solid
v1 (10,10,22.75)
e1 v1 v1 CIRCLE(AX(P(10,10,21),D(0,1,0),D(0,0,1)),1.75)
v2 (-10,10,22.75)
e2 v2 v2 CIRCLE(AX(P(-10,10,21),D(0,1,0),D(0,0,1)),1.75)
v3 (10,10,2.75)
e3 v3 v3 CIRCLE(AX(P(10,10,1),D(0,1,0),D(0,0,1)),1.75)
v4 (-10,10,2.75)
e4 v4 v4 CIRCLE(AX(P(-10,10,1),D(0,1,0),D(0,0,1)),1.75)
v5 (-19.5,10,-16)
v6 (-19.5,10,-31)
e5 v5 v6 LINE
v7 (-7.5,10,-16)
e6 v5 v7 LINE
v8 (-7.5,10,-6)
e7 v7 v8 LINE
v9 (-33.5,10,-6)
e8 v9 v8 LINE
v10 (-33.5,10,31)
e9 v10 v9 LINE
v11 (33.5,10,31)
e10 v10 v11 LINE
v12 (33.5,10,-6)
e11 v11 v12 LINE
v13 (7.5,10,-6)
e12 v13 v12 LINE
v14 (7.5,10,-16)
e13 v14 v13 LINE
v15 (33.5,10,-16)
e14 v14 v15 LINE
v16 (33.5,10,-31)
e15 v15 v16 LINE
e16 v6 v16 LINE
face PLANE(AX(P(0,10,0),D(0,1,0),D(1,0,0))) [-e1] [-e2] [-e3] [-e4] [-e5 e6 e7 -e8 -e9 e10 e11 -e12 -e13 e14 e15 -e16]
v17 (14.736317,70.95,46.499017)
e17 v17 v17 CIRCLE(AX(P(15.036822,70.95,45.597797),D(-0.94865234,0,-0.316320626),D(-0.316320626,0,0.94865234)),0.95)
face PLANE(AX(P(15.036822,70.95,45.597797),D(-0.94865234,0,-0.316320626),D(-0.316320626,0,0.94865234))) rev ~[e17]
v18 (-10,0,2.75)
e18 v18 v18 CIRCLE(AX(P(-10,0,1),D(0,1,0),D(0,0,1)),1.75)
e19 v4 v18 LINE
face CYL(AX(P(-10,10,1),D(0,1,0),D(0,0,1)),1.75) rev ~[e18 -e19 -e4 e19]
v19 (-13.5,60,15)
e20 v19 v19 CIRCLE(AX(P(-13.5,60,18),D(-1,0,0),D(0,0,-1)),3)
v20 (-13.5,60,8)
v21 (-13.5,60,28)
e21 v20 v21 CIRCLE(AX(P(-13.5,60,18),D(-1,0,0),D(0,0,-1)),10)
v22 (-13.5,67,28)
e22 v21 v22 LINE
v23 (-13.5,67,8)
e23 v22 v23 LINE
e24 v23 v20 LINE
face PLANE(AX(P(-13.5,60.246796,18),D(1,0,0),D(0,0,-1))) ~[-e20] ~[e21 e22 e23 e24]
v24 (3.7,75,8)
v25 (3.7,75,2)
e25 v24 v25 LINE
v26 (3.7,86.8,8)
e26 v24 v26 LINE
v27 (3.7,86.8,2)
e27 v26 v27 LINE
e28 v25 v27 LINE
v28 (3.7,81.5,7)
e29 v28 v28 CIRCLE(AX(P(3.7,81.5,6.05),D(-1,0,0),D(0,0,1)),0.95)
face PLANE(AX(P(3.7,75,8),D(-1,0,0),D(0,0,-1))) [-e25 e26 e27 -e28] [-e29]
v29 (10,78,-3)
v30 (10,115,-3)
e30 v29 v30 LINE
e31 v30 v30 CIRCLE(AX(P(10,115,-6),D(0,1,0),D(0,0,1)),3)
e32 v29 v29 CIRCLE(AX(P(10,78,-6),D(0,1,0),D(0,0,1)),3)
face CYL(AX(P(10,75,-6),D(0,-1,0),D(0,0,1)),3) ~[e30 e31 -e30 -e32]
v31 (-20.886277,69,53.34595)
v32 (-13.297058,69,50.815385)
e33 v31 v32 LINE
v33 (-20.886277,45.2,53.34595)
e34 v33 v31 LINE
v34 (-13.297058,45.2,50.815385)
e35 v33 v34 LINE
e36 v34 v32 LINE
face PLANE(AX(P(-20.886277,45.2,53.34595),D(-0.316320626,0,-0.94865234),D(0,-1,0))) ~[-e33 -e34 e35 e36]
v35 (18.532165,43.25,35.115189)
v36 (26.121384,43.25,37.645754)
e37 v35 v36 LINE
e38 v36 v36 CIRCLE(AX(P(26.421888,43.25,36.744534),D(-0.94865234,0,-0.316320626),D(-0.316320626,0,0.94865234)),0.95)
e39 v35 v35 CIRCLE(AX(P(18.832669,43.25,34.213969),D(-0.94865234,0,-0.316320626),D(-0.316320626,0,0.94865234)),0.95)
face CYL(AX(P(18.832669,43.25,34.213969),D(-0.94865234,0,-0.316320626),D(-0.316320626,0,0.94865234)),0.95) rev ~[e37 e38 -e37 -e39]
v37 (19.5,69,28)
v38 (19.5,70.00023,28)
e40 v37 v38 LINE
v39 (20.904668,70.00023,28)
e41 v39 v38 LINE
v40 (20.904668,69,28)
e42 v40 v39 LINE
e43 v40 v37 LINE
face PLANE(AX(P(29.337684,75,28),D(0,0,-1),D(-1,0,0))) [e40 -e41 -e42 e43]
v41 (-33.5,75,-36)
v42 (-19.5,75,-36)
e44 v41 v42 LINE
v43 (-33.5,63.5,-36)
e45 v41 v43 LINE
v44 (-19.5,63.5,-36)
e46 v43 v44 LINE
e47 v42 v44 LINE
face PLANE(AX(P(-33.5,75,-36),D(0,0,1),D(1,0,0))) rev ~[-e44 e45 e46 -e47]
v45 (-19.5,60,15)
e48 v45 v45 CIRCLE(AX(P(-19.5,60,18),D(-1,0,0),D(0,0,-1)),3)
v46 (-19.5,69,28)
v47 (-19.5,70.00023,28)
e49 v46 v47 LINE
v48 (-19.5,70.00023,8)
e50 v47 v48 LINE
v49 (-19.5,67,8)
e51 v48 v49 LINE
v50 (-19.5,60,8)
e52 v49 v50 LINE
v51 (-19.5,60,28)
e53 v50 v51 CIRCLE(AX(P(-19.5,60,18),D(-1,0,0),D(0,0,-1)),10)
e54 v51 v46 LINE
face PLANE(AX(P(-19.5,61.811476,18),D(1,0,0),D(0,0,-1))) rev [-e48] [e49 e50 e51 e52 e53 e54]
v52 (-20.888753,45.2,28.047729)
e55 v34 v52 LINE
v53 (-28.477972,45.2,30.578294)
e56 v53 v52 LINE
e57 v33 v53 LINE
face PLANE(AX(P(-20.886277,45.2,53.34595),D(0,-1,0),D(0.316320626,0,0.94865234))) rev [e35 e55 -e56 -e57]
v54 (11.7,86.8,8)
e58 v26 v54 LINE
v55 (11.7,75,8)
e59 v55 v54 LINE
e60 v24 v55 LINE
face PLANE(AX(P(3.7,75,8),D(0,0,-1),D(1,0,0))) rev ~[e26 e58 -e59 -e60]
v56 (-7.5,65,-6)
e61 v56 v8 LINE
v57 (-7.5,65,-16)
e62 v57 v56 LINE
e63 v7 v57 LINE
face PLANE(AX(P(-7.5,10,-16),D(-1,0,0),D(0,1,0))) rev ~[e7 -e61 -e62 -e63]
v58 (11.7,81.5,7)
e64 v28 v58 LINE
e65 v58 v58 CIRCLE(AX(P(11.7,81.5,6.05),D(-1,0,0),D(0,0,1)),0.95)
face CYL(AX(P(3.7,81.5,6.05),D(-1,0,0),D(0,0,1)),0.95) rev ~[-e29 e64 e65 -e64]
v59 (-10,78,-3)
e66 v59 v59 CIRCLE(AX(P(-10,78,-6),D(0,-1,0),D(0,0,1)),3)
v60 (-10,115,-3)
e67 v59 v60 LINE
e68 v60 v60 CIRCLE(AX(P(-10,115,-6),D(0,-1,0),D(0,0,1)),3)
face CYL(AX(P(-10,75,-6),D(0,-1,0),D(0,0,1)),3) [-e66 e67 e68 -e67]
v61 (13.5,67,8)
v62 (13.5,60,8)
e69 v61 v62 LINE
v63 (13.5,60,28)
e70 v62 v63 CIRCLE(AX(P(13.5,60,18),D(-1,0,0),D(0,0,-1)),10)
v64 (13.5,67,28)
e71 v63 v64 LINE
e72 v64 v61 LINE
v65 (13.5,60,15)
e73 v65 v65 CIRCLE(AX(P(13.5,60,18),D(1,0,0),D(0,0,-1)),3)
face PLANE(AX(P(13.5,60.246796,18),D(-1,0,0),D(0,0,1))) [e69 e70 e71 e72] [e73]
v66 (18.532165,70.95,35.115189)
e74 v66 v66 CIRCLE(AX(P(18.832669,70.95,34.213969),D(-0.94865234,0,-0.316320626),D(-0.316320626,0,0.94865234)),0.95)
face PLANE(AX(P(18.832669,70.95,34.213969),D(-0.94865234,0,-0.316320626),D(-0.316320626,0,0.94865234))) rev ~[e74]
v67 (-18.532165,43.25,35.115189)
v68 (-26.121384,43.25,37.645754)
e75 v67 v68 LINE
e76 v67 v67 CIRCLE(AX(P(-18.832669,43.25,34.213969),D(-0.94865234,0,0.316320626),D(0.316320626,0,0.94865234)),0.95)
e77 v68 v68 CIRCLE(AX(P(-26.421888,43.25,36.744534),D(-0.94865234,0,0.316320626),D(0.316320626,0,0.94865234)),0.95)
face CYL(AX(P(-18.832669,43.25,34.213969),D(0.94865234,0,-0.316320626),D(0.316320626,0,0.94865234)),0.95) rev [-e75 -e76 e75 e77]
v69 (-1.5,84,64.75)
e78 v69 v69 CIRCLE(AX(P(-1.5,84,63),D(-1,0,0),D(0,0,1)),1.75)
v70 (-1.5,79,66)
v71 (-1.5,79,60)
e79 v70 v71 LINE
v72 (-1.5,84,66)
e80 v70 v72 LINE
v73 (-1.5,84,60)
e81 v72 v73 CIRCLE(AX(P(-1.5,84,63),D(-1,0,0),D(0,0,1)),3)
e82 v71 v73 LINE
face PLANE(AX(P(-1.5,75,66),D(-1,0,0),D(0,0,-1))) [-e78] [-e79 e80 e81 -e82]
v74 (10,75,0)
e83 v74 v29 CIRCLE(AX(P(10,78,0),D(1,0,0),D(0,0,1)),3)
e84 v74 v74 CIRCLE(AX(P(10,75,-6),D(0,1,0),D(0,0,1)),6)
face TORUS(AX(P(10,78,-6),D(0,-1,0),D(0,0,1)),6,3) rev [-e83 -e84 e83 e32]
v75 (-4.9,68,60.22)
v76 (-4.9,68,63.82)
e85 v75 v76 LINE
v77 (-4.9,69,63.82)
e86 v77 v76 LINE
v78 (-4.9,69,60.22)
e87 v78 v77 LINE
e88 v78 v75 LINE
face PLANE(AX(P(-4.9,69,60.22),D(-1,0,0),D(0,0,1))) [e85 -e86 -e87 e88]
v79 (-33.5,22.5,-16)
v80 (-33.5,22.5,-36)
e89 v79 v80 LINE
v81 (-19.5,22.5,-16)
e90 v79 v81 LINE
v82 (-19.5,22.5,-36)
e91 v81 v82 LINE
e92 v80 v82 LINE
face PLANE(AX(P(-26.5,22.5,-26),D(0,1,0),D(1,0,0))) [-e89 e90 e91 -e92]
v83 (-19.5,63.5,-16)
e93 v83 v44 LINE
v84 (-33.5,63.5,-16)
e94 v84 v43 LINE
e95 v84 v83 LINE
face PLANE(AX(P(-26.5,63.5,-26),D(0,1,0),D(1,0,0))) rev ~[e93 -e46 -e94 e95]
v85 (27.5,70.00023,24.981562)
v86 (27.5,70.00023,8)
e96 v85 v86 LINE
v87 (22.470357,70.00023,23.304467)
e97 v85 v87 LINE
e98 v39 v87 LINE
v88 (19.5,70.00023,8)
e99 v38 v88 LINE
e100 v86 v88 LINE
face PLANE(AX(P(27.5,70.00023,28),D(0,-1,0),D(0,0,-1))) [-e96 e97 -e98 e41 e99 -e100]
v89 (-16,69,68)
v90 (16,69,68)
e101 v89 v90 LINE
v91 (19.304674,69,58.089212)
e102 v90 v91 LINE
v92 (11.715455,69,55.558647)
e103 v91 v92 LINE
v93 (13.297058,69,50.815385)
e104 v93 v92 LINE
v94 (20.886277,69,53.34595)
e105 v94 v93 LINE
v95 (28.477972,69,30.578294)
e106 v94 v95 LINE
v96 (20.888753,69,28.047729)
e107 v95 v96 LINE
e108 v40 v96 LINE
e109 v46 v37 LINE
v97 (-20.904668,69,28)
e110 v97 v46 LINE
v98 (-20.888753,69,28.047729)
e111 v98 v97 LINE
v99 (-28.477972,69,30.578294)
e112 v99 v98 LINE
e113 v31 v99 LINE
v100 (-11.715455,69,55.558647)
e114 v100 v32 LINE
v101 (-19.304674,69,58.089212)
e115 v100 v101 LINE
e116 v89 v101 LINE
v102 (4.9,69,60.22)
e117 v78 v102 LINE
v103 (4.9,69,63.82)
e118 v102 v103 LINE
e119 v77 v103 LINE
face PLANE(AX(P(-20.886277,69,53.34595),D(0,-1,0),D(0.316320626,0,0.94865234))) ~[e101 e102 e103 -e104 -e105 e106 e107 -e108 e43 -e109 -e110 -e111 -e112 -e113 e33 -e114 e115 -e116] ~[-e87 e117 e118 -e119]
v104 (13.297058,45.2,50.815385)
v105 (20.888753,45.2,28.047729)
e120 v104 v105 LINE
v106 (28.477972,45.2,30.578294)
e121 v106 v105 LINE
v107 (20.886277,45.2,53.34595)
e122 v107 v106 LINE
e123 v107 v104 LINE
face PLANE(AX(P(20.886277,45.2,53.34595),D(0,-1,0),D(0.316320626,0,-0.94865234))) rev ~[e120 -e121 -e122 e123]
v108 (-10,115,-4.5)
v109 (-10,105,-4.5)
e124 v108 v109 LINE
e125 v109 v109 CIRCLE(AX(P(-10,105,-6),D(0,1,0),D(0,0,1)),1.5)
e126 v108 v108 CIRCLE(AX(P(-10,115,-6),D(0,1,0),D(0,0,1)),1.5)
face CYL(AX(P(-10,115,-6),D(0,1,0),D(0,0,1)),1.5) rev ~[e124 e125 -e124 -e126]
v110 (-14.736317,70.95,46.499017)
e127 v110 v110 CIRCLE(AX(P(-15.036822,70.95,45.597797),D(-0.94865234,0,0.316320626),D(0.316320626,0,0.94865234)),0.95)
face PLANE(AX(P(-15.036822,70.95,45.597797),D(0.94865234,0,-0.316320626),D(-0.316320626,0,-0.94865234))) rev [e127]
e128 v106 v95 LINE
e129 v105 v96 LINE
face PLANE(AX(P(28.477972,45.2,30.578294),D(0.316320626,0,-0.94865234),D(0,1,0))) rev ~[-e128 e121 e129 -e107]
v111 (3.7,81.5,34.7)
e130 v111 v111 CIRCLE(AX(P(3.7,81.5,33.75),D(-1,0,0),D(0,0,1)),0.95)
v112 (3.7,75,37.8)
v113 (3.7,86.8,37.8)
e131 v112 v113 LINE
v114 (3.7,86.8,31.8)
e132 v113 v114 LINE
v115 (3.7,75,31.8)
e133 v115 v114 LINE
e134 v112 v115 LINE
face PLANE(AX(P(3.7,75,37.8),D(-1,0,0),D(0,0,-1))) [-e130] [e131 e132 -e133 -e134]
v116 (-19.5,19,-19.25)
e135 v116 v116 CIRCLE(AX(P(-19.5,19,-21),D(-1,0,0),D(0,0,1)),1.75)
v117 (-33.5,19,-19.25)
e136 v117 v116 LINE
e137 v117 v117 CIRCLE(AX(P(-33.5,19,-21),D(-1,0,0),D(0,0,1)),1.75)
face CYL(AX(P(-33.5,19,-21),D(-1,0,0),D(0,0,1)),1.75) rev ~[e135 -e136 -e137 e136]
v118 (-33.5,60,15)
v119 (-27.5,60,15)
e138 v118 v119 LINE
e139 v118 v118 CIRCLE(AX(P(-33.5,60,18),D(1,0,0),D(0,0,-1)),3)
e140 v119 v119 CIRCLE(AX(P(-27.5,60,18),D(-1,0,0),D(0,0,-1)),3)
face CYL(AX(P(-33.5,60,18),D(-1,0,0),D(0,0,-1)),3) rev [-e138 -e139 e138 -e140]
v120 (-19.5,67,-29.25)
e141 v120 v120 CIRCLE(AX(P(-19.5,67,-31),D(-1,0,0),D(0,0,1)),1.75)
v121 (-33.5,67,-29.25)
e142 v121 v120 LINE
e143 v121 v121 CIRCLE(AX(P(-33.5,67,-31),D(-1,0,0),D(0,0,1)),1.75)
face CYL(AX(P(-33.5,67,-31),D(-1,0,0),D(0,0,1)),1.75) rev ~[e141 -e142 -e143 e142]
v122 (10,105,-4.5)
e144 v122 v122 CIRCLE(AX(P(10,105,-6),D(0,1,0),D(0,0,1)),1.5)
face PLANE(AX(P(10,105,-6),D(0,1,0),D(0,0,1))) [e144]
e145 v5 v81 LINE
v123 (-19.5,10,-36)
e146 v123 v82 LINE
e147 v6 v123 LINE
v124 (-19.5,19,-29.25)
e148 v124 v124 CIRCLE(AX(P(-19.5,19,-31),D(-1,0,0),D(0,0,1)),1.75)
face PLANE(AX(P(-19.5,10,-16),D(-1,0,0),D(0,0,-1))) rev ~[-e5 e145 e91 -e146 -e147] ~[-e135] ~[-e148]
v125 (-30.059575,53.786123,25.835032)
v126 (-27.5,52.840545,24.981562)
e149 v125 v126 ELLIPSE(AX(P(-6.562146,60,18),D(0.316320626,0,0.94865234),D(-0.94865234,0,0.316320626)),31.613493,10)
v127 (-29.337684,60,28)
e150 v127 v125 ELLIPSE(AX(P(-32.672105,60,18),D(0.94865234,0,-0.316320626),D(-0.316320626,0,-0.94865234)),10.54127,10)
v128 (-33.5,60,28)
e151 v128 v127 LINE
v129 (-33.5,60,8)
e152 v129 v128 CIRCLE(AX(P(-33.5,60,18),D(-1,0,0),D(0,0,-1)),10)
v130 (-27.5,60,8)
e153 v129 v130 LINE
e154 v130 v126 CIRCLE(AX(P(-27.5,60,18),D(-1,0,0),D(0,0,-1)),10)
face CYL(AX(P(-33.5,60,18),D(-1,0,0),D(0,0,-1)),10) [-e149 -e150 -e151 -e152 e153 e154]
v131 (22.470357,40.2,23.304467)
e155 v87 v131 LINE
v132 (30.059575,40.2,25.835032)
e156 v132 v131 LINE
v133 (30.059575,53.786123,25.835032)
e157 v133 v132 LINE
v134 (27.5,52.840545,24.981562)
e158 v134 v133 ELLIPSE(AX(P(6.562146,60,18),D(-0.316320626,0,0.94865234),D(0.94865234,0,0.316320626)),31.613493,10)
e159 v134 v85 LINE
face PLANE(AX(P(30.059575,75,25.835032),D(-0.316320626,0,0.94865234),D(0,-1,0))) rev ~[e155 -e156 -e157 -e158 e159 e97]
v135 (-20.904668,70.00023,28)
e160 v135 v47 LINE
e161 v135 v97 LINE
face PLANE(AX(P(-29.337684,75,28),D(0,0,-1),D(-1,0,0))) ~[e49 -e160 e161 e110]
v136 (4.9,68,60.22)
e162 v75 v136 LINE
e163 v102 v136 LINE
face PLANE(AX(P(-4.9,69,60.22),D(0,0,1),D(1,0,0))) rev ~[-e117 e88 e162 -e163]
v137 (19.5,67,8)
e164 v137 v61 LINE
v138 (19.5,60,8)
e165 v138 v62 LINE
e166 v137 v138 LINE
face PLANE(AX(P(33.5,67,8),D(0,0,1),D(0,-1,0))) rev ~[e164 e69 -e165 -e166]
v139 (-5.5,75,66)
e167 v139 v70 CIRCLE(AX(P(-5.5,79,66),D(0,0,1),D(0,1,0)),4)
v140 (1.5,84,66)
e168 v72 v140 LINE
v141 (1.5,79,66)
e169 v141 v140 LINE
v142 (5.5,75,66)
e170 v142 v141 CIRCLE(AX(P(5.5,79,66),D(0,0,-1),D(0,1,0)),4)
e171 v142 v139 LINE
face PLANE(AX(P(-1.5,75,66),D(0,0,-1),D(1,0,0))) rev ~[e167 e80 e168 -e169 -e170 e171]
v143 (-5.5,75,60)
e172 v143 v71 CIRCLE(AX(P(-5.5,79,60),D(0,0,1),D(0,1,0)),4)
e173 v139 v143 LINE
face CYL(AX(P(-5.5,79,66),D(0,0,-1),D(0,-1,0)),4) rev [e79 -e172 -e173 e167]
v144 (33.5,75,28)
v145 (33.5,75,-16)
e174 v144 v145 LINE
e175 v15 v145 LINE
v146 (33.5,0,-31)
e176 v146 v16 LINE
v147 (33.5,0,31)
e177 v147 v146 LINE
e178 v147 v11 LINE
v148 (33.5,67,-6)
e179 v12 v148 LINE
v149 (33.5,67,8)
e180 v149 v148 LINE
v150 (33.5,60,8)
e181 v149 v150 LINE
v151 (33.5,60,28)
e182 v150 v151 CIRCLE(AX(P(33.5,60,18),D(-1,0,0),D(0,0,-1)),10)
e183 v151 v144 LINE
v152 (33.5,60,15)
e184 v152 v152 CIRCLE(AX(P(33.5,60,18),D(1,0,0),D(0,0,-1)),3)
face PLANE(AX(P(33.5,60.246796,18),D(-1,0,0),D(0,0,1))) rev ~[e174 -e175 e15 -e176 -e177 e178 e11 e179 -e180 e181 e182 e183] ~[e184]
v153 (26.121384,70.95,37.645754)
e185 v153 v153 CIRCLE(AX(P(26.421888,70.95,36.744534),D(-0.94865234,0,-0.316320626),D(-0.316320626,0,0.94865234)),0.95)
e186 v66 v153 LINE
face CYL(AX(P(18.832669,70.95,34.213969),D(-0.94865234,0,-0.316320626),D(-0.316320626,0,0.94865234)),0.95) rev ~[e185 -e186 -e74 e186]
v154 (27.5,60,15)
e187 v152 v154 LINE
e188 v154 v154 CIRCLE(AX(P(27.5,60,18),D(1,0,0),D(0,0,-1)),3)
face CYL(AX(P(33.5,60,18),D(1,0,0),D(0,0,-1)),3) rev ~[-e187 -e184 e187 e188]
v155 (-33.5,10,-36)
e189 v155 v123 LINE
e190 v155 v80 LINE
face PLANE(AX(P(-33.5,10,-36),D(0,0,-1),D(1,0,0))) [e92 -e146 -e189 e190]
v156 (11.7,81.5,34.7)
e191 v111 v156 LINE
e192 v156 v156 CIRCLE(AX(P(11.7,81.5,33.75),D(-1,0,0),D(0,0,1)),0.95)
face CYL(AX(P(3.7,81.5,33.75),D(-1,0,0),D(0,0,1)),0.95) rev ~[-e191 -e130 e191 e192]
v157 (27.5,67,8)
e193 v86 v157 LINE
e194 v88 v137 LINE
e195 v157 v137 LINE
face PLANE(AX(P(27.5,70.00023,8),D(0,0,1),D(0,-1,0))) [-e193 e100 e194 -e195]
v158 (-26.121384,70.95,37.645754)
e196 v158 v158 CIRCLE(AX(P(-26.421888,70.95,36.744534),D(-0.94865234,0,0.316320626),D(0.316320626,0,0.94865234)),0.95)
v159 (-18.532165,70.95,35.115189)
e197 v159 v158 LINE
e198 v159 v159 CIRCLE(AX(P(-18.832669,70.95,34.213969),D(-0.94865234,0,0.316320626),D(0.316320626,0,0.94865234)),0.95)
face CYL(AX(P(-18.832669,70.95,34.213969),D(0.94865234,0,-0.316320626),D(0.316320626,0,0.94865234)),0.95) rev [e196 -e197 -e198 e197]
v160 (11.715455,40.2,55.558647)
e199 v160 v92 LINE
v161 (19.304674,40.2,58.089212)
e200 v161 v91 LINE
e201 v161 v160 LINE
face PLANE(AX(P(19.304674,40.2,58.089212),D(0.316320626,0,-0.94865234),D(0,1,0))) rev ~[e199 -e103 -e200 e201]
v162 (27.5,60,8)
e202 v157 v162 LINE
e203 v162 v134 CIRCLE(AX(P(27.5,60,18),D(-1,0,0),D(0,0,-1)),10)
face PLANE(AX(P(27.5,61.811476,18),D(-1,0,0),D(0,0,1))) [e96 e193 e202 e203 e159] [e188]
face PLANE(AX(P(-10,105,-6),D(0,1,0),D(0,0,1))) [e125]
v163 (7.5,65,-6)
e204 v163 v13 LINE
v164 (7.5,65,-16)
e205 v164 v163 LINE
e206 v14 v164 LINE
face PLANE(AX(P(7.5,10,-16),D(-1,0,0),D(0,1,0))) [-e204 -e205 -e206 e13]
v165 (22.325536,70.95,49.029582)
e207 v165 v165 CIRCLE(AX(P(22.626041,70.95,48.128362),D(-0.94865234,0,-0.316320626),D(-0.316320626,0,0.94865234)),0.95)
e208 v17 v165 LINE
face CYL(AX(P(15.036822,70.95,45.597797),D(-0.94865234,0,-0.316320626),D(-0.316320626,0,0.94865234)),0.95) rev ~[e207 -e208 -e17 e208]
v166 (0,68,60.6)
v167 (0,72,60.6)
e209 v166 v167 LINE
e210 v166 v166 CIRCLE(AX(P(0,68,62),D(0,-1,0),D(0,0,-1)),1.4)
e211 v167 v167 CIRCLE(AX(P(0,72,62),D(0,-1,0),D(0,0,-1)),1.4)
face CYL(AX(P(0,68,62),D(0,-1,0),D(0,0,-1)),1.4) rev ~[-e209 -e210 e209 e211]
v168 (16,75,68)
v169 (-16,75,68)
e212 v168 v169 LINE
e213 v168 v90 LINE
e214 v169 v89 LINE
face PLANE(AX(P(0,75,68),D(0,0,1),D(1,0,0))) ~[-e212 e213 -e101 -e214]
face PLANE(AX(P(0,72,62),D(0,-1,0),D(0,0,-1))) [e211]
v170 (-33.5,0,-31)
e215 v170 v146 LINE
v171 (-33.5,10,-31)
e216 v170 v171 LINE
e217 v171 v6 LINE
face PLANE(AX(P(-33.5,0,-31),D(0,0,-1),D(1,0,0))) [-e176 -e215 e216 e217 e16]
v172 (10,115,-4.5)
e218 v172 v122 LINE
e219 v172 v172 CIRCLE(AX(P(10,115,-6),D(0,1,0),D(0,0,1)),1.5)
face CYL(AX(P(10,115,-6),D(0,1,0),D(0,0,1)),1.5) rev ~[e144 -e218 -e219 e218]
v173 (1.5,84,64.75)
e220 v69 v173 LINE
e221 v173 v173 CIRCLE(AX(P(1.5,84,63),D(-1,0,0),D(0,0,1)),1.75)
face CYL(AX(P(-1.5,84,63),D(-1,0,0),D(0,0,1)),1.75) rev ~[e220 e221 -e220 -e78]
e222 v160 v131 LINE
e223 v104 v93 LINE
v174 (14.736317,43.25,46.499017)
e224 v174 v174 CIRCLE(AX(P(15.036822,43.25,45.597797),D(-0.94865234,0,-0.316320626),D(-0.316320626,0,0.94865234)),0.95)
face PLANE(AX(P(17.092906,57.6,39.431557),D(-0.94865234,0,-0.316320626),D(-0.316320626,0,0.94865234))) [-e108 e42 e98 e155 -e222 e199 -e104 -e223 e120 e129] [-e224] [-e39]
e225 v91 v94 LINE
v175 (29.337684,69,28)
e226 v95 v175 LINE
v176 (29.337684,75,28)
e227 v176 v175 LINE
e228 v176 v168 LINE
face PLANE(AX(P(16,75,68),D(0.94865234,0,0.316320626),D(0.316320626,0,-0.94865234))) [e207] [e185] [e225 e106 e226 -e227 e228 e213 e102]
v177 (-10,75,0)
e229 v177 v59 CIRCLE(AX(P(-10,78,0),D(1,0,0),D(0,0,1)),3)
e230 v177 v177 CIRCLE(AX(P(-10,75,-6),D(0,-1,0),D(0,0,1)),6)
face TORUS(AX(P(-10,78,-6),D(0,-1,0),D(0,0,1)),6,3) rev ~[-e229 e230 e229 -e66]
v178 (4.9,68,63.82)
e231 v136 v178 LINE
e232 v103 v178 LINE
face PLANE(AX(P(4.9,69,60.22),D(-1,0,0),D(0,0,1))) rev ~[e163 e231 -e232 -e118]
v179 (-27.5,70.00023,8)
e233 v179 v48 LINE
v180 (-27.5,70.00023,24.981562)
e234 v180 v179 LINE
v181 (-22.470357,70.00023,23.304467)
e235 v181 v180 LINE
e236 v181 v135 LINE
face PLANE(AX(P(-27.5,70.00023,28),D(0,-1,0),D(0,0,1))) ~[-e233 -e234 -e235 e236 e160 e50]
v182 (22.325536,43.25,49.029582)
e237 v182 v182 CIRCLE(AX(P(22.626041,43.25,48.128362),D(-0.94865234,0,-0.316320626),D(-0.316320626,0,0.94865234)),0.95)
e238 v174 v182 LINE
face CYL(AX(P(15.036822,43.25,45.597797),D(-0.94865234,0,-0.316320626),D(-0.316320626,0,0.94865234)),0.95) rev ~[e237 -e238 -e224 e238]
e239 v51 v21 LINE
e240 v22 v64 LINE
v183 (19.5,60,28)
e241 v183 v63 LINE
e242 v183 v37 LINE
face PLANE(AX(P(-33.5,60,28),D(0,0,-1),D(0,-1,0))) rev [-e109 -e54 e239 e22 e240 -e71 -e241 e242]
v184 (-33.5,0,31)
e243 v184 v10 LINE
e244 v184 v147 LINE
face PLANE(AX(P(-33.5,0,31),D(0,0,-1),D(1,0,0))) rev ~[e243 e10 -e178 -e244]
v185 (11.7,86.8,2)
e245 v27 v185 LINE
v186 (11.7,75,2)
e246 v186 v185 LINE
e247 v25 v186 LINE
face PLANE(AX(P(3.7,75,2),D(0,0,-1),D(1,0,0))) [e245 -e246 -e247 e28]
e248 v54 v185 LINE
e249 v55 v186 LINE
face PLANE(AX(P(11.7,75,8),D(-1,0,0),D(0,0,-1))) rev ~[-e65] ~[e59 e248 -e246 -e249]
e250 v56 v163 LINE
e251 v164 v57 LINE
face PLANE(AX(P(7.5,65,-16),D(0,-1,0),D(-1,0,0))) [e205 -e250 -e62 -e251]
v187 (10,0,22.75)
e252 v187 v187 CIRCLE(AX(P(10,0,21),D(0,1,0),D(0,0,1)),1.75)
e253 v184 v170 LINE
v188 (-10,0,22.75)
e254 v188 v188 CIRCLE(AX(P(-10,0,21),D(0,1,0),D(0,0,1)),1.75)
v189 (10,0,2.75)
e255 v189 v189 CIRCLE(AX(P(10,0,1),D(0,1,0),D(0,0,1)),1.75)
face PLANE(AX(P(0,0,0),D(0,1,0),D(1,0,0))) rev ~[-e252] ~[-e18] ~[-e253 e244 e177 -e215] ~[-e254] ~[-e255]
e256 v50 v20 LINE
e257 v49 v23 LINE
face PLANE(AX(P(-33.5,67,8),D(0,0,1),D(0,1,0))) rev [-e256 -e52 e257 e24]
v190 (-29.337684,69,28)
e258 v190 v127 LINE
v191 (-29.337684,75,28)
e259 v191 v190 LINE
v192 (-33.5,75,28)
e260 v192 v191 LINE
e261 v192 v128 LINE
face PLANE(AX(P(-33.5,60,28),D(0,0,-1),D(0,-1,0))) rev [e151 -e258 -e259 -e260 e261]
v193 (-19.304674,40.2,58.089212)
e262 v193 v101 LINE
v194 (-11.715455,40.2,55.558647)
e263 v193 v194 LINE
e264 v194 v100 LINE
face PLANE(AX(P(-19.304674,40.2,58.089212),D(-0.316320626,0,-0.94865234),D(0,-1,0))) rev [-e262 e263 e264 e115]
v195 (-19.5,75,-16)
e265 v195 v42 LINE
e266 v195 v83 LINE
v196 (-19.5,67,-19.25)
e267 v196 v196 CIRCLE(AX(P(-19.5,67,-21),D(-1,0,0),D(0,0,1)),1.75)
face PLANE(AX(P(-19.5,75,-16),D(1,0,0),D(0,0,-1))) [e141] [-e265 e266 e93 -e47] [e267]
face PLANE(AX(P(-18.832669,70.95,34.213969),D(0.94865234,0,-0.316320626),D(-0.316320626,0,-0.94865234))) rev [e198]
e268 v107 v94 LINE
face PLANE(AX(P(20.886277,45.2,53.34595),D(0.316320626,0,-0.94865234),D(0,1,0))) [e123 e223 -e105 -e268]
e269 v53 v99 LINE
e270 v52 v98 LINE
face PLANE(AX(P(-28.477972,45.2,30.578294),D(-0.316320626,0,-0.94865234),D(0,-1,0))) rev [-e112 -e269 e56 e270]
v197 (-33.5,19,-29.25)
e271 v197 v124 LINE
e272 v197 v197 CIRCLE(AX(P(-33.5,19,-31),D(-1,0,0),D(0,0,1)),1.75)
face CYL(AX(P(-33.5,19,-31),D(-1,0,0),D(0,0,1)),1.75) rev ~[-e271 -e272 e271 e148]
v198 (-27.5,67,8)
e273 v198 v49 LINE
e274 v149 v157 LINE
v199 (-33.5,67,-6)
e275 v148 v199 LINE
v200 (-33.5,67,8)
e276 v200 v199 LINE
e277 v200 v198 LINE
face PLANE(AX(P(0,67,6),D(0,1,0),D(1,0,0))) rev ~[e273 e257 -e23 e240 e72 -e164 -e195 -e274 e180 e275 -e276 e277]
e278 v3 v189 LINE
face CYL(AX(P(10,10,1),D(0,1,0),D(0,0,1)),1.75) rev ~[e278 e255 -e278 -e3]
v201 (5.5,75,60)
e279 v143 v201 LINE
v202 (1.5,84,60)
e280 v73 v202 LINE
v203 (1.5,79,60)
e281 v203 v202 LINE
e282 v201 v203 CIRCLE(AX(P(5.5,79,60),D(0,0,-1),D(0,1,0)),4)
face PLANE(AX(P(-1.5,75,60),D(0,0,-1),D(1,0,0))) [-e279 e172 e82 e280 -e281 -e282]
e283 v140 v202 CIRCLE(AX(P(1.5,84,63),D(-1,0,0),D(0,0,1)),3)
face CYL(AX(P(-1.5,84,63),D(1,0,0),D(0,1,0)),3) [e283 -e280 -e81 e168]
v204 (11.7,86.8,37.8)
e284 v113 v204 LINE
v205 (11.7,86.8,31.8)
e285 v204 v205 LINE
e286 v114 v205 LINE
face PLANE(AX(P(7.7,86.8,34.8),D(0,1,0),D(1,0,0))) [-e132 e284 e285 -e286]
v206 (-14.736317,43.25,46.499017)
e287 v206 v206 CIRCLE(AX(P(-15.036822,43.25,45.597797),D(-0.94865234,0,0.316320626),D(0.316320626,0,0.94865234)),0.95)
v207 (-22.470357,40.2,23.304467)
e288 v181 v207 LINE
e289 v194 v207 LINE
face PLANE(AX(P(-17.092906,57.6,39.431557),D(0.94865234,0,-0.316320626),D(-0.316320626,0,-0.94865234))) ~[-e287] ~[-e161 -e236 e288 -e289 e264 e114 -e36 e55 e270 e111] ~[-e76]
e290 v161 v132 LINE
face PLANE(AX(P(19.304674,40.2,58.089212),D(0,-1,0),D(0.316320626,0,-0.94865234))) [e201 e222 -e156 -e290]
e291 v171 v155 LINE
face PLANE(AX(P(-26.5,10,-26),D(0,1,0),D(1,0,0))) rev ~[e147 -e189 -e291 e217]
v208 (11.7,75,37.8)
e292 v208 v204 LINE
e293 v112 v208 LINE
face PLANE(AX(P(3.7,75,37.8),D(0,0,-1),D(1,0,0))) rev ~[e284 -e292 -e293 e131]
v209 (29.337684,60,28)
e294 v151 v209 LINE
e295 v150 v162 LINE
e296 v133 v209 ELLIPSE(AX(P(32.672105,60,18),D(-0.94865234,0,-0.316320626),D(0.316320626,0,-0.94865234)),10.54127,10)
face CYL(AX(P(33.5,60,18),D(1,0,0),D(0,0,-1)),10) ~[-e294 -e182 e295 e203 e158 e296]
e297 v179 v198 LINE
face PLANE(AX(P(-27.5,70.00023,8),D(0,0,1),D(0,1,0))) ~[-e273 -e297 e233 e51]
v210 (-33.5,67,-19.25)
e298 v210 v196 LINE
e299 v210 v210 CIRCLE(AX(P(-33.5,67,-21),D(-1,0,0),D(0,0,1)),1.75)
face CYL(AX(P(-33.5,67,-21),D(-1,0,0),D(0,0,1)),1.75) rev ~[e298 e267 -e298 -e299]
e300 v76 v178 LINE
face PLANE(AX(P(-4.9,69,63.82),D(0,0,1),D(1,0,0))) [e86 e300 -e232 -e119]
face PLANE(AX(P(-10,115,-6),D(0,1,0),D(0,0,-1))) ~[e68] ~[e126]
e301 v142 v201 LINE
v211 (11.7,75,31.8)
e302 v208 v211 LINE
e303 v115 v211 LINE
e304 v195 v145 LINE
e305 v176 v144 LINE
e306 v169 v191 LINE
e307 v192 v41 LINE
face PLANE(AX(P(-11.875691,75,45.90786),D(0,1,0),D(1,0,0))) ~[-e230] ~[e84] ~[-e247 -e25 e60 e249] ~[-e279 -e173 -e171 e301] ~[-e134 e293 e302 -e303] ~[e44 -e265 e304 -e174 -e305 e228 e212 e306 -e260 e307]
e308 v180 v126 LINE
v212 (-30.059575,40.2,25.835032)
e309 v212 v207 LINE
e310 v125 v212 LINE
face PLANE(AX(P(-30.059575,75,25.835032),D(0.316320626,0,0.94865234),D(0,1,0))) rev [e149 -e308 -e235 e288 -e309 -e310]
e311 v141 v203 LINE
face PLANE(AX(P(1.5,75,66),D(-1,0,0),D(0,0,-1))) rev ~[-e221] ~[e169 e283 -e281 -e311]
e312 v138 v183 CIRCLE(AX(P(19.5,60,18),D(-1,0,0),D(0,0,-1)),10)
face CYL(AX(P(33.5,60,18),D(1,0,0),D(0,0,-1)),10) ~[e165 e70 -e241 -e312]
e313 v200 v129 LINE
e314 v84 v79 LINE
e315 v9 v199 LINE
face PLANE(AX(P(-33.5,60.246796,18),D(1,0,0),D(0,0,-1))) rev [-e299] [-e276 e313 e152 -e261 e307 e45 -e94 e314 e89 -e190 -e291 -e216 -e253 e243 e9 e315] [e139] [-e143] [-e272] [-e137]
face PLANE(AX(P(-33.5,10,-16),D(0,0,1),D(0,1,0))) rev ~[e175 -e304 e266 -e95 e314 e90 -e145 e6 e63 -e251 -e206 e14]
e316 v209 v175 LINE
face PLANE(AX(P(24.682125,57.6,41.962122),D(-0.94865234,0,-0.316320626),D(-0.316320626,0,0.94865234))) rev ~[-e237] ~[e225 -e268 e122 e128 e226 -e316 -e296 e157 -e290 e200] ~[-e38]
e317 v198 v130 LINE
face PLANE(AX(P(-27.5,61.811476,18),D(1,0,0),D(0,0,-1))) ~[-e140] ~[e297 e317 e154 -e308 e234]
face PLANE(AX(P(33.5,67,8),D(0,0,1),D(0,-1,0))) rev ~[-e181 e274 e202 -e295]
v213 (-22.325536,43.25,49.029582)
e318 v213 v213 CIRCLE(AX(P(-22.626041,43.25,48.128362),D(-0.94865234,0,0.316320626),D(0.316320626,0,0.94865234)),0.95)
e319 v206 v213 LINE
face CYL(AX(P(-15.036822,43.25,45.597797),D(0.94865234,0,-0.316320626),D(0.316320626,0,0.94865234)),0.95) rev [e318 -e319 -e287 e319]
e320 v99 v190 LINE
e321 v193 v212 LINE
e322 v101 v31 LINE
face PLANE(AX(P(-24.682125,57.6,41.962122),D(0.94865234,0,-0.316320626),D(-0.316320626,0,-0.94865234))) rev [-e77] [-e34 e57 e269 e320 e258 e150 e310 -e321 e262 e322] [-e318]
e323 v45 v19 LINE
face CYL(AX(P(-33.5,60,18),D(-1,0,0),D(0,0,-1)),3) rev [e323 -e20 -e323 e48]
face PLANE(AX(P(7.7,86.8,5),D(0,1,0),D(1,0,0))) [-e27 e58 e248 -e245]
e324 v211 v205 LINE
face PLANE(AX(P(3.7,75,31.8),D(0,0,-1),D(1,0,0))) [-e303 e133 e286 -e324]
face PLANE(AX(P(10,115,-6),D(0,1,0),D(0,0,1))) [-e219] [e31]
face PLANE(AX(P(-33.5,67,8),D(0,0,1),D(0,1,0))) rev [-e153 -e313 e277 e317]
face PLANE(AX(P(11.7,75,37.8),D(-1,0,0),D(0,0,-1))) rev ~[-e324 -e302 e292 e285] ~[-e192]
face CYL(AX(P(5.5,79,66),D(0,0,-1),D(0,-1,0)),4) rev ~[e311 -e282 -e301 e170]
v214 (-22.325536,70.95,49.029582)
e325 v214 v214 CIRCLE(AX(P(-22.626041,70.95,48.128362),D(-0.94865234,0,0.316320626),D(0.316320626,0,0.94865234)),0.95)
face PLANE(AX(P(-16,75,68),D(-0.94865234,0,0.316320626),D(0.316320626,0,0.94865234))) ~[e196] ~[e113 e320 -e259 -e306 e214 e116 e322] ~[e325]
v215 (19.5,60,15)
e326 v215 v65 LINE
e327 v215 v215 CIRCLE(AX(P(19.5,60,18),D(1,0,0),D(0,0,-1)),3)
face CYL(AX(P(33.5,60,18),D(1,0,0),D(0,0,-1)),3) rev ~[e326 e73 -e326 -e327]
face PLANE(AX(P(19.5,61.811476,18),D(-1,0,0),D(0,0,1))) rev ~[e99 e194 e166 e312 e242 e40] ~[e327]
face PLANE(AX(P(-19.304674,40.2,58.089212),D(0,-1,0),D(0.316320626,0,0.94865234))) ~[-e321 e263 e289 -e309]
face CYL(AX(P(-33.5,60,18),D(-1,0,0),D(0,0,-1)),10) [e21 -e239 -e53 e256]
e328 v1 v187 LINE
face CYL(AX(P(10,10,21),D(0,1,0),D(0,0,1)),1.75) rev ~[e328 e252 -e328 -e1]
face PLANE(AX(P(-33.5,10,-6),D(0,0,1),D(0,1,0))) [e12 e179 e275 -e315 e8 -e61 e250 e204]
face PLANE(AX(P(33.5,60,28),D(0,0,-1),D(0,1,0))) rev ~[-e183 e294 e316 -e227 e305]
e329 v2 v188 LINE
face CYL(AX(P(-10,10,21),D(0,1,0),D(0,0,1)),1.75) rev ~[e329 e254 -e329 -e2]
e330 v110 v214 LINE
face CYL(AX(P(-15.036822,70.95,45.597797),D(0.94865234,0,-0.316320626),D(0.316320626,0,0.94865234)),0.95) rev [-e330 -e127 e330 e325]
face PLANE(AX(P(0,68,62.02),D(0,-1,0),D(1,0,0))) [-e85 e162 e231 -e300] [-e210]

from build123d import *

# Parameters (mm, degrees)
SKETCH_1_W             = 67
SKETCH_1_H             = 62
EXTRUDE_1_DEPTH        = 10
SKETCH_3_W             = 14
SKETCH_3_H             = 20
EXTRUDE_2_DEPTH        = 12.5
SKETCH_4_W             = 10
SKETCH_4_H             = 65
EXTRUDE_3_DEPTH        = 67
SKETCH_5_W             = 67
SKETCH_5_H             = 44
EXTRUDE_4_DEPTH        = 8
EXTRUDE_5_DEPTH        = 20
CUT_EXTRUDE_START      = -6
CUT_EXTRUDE_1_DEPTH    = 8
EXTRUDE_6_DEPTH        = 6
SKETCH_9_R             = 3
CUT_EXTRUDE_2_DEPTH    = 23
SKETCH_10_W            = 24
SKETCH_10_H            = 23.8
EXTRUDE_7_DEPTH        = 8
SKETCH_12_W            = 14
SKETCH_12_H            = 20
EXTRUDE_8_DEPTH        = 11.5
SKETCH_13_R            = 0.95
CUT_EXTRUDE_4_DEPTH    = 8
SKETCH_14_W            = 8
SKETCH_14_H            = 6
EXTRUDE_9_DEPTH        = 11.8
SKETCH_15_R            = 0.95
CUT_EXTRUDE_5_DEPTH    = 11.8
SKETCH_16_W            = 3
SKETCH_16_H            = 6
EXTRUDE_10_DEPTH       = 12
FILLET_1_RADIUS        = 3
FILLET_1_LENGTH        = 3
SKETCH_17_R            = 1.75
CUT_EXTRUDE_6_DEPTH    = 7
SKETCH_18_R            = 3
EXTRUDE_11_DEPTH       = 40
FILLET_2_R             = 3
FILLET_2_OF_MIRROR_1_R = 3
SKETCH_20_R            = 1.75
CUT_EXTRUDE_7_DEPTH    = 35
SKETCH_21_W            = 15
SKETCH_21_H            = 55
CUT_EXTRUDE_8_DEPTH    = 35
SKETCH_24_R            = 1.75
CUT_EXTRUDE_11_DEPTH   = 18
SKETCH_25_R            = 1.5
CUT_EXTRUDE_12_DEPTH   = 10
FILLET_3_R             = 4
SKETCH_26_W            = 9.8
SKETCH_26_H            = 3.6
EXTRUDE_12_DEPTH       = 1
SKETCH_27_R            = 1.4
CUT_EXTRUDE_13_DEPTH   = 4


with BuildPart() as part:
    # 草图1 → 凸台-拉伸1 (new body)
    with BuildSketch(Plane(origin=(0, 0, 0), x_dir=(1, 0, 0), z_dir=(0, 1, 0))):
        Rectangle(SKETCH_1_W, SKETCH_1_H)
    extrude(amount=EXTRUDE_1_DEPTH)

    # 草图3 → 凸台-拉伸2 (add)
    with BuildSketch(Plane(origin=(0, 10, 0), x_dir=(1, 0, 0), z_dir=(0, 1, 0))):
        with Locations((-26.5, 26)):
            Rectangle(SKETCH_3_W, SKETCH_3_H)
    extrude(amount=EXTRUDE_2_DEPTH)

    # 草图4 → 凸台-拉伸3 (add)
    with BuildSketch(Plane.ZY.offset(33.5)):
        with Locations((-11, 42.5)):
            Rectangle(SKETCH_4_W, SKETCH_4_H)
    extrude(amount=-EXTRUDE_3_DEPTH)

    # 草图5 → 凸台-拉伸4 (add)
    with BuildSketch(Plane(origin=(0, 75, 0), x_dir=(1, 0, 0), z_dir=(0, 1, 0))):
        with Locations((0, -6)):
            Rectangle(SKETCH_5_W, SKETCH_5_H)
    extrude(amount=-EXTRUDE_4_DEPTH)

    # 草图6 → 凸台-拉伸5 (add)
    with BuildSketch(Plane(origin=(33.5, 0, 0), x_dir=(0, 0, -1), z_dir=(1, 0, 0))):
        with BuildLine():
            Line((-28, 60), (-28, 67))
            Line((-28, 67), (-8, 67))
            Line((-8, 67), (-8, 60))
            ThreePointArc((-8, 60), (-18, 50), (-28, 60))
        make_face()
    extrude_5 = extrude(amount=-EXTRUDE_5_DEPTH)

    # 草图7 → 切除-拉伸1 (cut)
    with BuildSketch(Plane(origin=(33.5, 0, 0), x_dir=(0, 0, -1), z_dir=(1, 0, 0)).offset(CUT_EXTRUDE_START)):
        with BuildLine():
            Line((-28, 60), (-28, 70.000230089))
            Line((-28, 70.000230089), (-8, 70.000230089))
            Line((-8, 70.000230089), (-8, 60))
            ThreePointArc((-8, 60), (-18, 50), (-28, 60))
        make_face()
    cut_extrude_1 = extrude(amount=-CUT_EXTRUDE_1_DEPTH, mode=Mode.SUBTRACT)

    # 草图8 → 凸台-拉伸6 (add)
    with BuildSketch(Plane(origin=(0, 75, 0), x_dir=(1, 0, 0), z_dir=(0, 1, 0))):
        Polygon((0, -68), (16, -68), (29.337683895, -28), (0, -28), align=None)
    extrude_6 = extrude(amount=-EXTRUDE_6_DEPTH)

    # 草图9 → 切除-拉伸2 (cut)
    with BuildSketch(Plane(origin=(33.5, 0, 0), x_dir=(0, 0, -1), z_dir=(1, 0, 0))):
        with Locations((-18, 60)):
            Circle(SKETCH_9_R)
    cut_extrude_2 = extrude(amount=-CUT_EXTRUDE_2_DEPTH, mode=Mode.SUBTRACT)

    # 草图10 → 凸台-拉伸7 (add)
    with BuildSketch(Plane(origin=(34.804384709, 0, 11.605247035), x_dir=(0.3163206258352512, 0, -0.9486523397278874), z_dir=(0.9486523397278874, 0, 0.3163206258352512))):
        Polygon((-44, 75), (-15, 75), (-15, 40.2), (-43, 40.2), (-49, 40.2), (-49, 75), align=None)
        with Locations((-32, 57.1)):
            Rectangle(SKETCH_10_W, SKETCH_10_H, mode=Mode.SUBTRACT)
    extrude_7 = extrude(amount=-EXTRUDE_7_DEPTH)

    # 草图12 → 凸台-拉伸8 (add)
    with BuildSketch(Plane(origin=(0, 75, 0), x_dir=(1, 0, 0), z_dir=(0, 1, 0))):
        with Locations((-26.5, 26)):
            Rectangle(SKETCH_12_W, SKETCH_12_H)
    extrude(amount=-EXTRUDE_8_DEPTH)

    # 草图13 → 切除-拉伸4 (cut)
    with BuildSketch(Plane(origin=(27.215165992, 0, 9.074682029), x_dir=(-0.3163206258352515, 0, 0.9486523397278873), z_dir=(-0.9486523397278873, 0, -0.3163206258352515))):
        with Locations((38.5, 70.95)):
            Circle(SKETCH_13_R)
        with Locations((26.5, 70.95)):
            Circle(SKETCH_13_R)
        with Locations((26.5, 43.25)):
            Circle(SKETCH_13_R)
        with Locations((38.5, 43.25)):
            Circle(SKETCH_13_R)
    cut_extrude_4 = extrude(amount=-CUT_EXTRUDE_4_DEPTH, mode=Mode.SUBTRACT)

    # 草图14 → 凸台-拉伸9 (add)
    with BuildSketch(Plane(origin=(0, 75, 0), x_dir=(1, 0, 0), z_dir=(0, 1, 0))):
        with Locations((7.7, -5)):
            Rectangle(SKETCH_14_W, SKETCH_14_H)
        with Locations((7.7, -34.8)):
            Rectangle(SKETCH_14_W, SKETCH_14_H)
    extrude(amount=EXTRUDE_9_DEPTH)

    # 草图15 → 切除-拉伸5 (cut)
    with BuildSketch(Plane.ZY.offset(-3.7)):
        with Locations((33.75, 81.5)):
            Circle(SKETCH_15_R)
        with Locations((6.05, 81.5)):
            Circle(SKETCH_15_R)
    extrude(amount=-CUT_EXTRUDE_5_DEPTH, mode=Mode.SUBTRACT)

    # 草图16 → 凸台-拉伸10 (add)
    with BuildSketch(Plane(origin=(0, 75, 0), x_dir=(1, 0, 0), z_dir=(0, 1, 0))):
        with Locations((0, -63)):
            Rectangle(SKETCH_16_W, SKETCH_16_H)
    extrude(amount=EXTRUDE_10_DEPTH)

    # 圆角1: full round fillet: the end face becomes a half cylinder, R = half its width
    fillet_1_face = Plane((0, 87, 63), x_dir=(1, 0, 0), z_dir=(0, 1, 0))  # on the end face: x along it, z out of the body
    fillet_1_slab = fillet_1_face.offset(-FILLET_1_RADIUS / 2) * Box(FILLET_1_LENGTH, 2 * FILLET_1_RADIUS, FILLET_1_RADIUS, mode=Mode.PRIVATE)  # the body's end, R deep
    fillet_1_round = Plane((0, 84, 63), x_dir=(0, 1, 0), z_dir=(1, 0, 0)) * Cylinder(FILLET_1_RADIUS, FILLET_1_LENGTH, mode=Mode.PRIVATE)  # its axis R under the face
    add(fillet_1_slab - fillet_1_round, mode=Mode.SUBTRACT)

    # 草图17 → 切除-拉伸6 (cut)
    with BuildSketch(Plane.ZY.offset(1.5)):
        with Locations((63, 84)):
            Circle(SKETCH_17_R)
    extrude(amount=-CUT_EXTRUDE_6_DEPTH, mode=Mode.SUBTRACT)

    # 草图18 → 凸台-拉伸11 (add)
    with BuildSketch(Plane(origin=(0, 75, 0), x_dir=(1, 0, 0), z_dir=(0, 1, 0))):
        with Locations(Location((10, 6, 0), (0, 0, 270))):
            Circle(SKETCH_18_R)
    extrude_11 = extrude(amount=EXTRUDE_11_DEPTH)

    # 圆角2
    fillet_2_edges = [part.edges().sort_by_distance(p)[0] for p in [
        (10, 75, -9),
    ]]
    fillet(fillet_2_edges, radius=FILLET_2_R)

    # 镜向1: 凸台-拉伸5, 切除-拉伸1, 凸台-拉伸6, 切除-拉伸2, 凸台-拉伸7, 切除-拉伸4, 凸台-拉伸11 across plane
    add(extrude_5.mirror(Plane(origin=(0, 0, 0), x_dir=(0, 0, 1), z_dir=(1, 0, 0))))
    add(cut_extrude_1.mirror(Plane(origin=(0, 0, 0), x_dir=(0, 0, 1), z_dir=(1, 0, 0))), mode=Mode.SUBTRACT)
    add(extrude_6.mirror(Plane(origin=(0, 0, 0), x_dir=(0, 0, 1), z_dir=(1, 0, 0))))
    add(cut_extrude_2.mirror(Plane(origin=(0, 0, 0), x_dir=(0, 0, 1), z_dir=(1, 0, 0))), mode=Mode.SUBTRACT)
    add(extrude_7.mirror(Plane(origin=(0, 0, 0), x_dir=(0, 0, 1), z_dir=(1, 0, 0))))
    add(cut_extrude_4.mirror(Plane(origin=(0, 0, 0), x_dir=(0, 0, 1), z_dir=(1, 0, 0))), mode=Mode.SUBTRACT)
    add(extrude_11.mirror(Plane(origin=(0, 0, 0), x_dir=(0, 0, 1), z_dir=(1, 0, 0))))

    # 圆角2 of 镜向1
    fillet_2_of_mirror_1_edges = [part.edges().sort_by_distance(p)[0] for p in [
        (-10, 75, -9),
    ]]
    fillet(fillet_2_of_mirror_1_edges, radius=FILLET_2_OF_MIRROR_1_R)

    # 草图20 → 切除-拉伸7 (cut)
    with BuildSketch(Plane.ZY.offset(33.5)):
        with Locations((-31, 67)):
            Circle(SKETCH_20_R)
        with Locations((-21, 67)):
            Circle(SKETCH_20_R)
        with Locations((-31, 19)):
            Circle(SKETCH_20_R)
        with Locations((-21, 19)):
            Circle(SKETCH_20_R)
    extrude(amount=-CUT_EXTRUDE_7_DEPTH, mode=Mode.SUBTRACT)

    # 草图21 → 切除-拉伸8 (cut)
    with BuildSketch(Plane(origin=(0, 0, -16), x_dir=(-1, 0, 0), z_dir=(0, 0, -1))):
        with Locations((0, 37.5)):
            Rectangle(SKETCH_21_W, SKETCH_21_H)
    extrude(amount=-CUT_EXTRUDE_8_DEPTH, mode=Mode.SUBTRACT)

    # 草图24 → 切除-拉伸11 (cut)
    with BuildSketch(Plane(origin=(0, 10, 0), x_dir=(1, 0, 0), z_dir=(0, 1, 0))):
        with Locations(Location((-10, -21, 0), (0, 0, 270))):
            Circle(SKETCH_24_R)
        with Locations(Location((10, -21, 0), (0, 0, 270))):
            Circle(SKETCH_24_R)
        with Locations(Location((-10, -1, 0), (0, 0, 270))):
            Circle(SKETCH_24_R)
        with Locations(Location((10, -1, 0), (0, 0, 270))):
            Circle(SKETCH_24_R)
    extrude(amount=-CUT_EXTRUDE_11_DEPTH, mode=Mode.SUBTRACT)

    # 草图25 → 切除-拉伸12 (cut)
    with BuildSketch(Plane(origin=(0, 115, 0), x_dir=(1, 0, 0), z_dir=(0, 1, 0))):
        with Locations(Location((10, 6, 0), (0, 0, 270))):
            Circle(SKETCH_25_R)
        with Locations(Location((-10, 6, 0), (0, 0, 270))):
            Circle(SKETCH_25_R)
    extrude(amount=-CUT_EXTRUDE_12_DEPTH, mode=Mode.SUBTRACT)

    # 圆角3
    fillet_3_edges = [part.edges().sort_by_distance(p)[0] for p in [
        (-1.5, 75, 63),
        (1.5, 75, 63),
    ]]
    fillet(fillet_3_edges, radius=FILLET_3_R)

    # 草图26 → 凸台-拉伸12 (add)
    with BuildSketch(Plane.XZ.offset(-69)):
        with Locations((0, 62.02)):
            Rectangle(SKETCH_26_W, SKETCH_26_H)
    extrude(amount=EXTRUDE_12_DEPTH)

    # 草图27 → 切除-拉伸13 (cut)
    with BuildSketch(Plane.XZ.offset(-68)):
        with Locations(Location((0, 62, 0), (0, 0, 270))):
            Circle(SKETCH_27_R)
    extrude(amount=-CUT_EXTRUDE_13_DEPTH, mode=Mode.SUBTRACT)


solid = part.part
